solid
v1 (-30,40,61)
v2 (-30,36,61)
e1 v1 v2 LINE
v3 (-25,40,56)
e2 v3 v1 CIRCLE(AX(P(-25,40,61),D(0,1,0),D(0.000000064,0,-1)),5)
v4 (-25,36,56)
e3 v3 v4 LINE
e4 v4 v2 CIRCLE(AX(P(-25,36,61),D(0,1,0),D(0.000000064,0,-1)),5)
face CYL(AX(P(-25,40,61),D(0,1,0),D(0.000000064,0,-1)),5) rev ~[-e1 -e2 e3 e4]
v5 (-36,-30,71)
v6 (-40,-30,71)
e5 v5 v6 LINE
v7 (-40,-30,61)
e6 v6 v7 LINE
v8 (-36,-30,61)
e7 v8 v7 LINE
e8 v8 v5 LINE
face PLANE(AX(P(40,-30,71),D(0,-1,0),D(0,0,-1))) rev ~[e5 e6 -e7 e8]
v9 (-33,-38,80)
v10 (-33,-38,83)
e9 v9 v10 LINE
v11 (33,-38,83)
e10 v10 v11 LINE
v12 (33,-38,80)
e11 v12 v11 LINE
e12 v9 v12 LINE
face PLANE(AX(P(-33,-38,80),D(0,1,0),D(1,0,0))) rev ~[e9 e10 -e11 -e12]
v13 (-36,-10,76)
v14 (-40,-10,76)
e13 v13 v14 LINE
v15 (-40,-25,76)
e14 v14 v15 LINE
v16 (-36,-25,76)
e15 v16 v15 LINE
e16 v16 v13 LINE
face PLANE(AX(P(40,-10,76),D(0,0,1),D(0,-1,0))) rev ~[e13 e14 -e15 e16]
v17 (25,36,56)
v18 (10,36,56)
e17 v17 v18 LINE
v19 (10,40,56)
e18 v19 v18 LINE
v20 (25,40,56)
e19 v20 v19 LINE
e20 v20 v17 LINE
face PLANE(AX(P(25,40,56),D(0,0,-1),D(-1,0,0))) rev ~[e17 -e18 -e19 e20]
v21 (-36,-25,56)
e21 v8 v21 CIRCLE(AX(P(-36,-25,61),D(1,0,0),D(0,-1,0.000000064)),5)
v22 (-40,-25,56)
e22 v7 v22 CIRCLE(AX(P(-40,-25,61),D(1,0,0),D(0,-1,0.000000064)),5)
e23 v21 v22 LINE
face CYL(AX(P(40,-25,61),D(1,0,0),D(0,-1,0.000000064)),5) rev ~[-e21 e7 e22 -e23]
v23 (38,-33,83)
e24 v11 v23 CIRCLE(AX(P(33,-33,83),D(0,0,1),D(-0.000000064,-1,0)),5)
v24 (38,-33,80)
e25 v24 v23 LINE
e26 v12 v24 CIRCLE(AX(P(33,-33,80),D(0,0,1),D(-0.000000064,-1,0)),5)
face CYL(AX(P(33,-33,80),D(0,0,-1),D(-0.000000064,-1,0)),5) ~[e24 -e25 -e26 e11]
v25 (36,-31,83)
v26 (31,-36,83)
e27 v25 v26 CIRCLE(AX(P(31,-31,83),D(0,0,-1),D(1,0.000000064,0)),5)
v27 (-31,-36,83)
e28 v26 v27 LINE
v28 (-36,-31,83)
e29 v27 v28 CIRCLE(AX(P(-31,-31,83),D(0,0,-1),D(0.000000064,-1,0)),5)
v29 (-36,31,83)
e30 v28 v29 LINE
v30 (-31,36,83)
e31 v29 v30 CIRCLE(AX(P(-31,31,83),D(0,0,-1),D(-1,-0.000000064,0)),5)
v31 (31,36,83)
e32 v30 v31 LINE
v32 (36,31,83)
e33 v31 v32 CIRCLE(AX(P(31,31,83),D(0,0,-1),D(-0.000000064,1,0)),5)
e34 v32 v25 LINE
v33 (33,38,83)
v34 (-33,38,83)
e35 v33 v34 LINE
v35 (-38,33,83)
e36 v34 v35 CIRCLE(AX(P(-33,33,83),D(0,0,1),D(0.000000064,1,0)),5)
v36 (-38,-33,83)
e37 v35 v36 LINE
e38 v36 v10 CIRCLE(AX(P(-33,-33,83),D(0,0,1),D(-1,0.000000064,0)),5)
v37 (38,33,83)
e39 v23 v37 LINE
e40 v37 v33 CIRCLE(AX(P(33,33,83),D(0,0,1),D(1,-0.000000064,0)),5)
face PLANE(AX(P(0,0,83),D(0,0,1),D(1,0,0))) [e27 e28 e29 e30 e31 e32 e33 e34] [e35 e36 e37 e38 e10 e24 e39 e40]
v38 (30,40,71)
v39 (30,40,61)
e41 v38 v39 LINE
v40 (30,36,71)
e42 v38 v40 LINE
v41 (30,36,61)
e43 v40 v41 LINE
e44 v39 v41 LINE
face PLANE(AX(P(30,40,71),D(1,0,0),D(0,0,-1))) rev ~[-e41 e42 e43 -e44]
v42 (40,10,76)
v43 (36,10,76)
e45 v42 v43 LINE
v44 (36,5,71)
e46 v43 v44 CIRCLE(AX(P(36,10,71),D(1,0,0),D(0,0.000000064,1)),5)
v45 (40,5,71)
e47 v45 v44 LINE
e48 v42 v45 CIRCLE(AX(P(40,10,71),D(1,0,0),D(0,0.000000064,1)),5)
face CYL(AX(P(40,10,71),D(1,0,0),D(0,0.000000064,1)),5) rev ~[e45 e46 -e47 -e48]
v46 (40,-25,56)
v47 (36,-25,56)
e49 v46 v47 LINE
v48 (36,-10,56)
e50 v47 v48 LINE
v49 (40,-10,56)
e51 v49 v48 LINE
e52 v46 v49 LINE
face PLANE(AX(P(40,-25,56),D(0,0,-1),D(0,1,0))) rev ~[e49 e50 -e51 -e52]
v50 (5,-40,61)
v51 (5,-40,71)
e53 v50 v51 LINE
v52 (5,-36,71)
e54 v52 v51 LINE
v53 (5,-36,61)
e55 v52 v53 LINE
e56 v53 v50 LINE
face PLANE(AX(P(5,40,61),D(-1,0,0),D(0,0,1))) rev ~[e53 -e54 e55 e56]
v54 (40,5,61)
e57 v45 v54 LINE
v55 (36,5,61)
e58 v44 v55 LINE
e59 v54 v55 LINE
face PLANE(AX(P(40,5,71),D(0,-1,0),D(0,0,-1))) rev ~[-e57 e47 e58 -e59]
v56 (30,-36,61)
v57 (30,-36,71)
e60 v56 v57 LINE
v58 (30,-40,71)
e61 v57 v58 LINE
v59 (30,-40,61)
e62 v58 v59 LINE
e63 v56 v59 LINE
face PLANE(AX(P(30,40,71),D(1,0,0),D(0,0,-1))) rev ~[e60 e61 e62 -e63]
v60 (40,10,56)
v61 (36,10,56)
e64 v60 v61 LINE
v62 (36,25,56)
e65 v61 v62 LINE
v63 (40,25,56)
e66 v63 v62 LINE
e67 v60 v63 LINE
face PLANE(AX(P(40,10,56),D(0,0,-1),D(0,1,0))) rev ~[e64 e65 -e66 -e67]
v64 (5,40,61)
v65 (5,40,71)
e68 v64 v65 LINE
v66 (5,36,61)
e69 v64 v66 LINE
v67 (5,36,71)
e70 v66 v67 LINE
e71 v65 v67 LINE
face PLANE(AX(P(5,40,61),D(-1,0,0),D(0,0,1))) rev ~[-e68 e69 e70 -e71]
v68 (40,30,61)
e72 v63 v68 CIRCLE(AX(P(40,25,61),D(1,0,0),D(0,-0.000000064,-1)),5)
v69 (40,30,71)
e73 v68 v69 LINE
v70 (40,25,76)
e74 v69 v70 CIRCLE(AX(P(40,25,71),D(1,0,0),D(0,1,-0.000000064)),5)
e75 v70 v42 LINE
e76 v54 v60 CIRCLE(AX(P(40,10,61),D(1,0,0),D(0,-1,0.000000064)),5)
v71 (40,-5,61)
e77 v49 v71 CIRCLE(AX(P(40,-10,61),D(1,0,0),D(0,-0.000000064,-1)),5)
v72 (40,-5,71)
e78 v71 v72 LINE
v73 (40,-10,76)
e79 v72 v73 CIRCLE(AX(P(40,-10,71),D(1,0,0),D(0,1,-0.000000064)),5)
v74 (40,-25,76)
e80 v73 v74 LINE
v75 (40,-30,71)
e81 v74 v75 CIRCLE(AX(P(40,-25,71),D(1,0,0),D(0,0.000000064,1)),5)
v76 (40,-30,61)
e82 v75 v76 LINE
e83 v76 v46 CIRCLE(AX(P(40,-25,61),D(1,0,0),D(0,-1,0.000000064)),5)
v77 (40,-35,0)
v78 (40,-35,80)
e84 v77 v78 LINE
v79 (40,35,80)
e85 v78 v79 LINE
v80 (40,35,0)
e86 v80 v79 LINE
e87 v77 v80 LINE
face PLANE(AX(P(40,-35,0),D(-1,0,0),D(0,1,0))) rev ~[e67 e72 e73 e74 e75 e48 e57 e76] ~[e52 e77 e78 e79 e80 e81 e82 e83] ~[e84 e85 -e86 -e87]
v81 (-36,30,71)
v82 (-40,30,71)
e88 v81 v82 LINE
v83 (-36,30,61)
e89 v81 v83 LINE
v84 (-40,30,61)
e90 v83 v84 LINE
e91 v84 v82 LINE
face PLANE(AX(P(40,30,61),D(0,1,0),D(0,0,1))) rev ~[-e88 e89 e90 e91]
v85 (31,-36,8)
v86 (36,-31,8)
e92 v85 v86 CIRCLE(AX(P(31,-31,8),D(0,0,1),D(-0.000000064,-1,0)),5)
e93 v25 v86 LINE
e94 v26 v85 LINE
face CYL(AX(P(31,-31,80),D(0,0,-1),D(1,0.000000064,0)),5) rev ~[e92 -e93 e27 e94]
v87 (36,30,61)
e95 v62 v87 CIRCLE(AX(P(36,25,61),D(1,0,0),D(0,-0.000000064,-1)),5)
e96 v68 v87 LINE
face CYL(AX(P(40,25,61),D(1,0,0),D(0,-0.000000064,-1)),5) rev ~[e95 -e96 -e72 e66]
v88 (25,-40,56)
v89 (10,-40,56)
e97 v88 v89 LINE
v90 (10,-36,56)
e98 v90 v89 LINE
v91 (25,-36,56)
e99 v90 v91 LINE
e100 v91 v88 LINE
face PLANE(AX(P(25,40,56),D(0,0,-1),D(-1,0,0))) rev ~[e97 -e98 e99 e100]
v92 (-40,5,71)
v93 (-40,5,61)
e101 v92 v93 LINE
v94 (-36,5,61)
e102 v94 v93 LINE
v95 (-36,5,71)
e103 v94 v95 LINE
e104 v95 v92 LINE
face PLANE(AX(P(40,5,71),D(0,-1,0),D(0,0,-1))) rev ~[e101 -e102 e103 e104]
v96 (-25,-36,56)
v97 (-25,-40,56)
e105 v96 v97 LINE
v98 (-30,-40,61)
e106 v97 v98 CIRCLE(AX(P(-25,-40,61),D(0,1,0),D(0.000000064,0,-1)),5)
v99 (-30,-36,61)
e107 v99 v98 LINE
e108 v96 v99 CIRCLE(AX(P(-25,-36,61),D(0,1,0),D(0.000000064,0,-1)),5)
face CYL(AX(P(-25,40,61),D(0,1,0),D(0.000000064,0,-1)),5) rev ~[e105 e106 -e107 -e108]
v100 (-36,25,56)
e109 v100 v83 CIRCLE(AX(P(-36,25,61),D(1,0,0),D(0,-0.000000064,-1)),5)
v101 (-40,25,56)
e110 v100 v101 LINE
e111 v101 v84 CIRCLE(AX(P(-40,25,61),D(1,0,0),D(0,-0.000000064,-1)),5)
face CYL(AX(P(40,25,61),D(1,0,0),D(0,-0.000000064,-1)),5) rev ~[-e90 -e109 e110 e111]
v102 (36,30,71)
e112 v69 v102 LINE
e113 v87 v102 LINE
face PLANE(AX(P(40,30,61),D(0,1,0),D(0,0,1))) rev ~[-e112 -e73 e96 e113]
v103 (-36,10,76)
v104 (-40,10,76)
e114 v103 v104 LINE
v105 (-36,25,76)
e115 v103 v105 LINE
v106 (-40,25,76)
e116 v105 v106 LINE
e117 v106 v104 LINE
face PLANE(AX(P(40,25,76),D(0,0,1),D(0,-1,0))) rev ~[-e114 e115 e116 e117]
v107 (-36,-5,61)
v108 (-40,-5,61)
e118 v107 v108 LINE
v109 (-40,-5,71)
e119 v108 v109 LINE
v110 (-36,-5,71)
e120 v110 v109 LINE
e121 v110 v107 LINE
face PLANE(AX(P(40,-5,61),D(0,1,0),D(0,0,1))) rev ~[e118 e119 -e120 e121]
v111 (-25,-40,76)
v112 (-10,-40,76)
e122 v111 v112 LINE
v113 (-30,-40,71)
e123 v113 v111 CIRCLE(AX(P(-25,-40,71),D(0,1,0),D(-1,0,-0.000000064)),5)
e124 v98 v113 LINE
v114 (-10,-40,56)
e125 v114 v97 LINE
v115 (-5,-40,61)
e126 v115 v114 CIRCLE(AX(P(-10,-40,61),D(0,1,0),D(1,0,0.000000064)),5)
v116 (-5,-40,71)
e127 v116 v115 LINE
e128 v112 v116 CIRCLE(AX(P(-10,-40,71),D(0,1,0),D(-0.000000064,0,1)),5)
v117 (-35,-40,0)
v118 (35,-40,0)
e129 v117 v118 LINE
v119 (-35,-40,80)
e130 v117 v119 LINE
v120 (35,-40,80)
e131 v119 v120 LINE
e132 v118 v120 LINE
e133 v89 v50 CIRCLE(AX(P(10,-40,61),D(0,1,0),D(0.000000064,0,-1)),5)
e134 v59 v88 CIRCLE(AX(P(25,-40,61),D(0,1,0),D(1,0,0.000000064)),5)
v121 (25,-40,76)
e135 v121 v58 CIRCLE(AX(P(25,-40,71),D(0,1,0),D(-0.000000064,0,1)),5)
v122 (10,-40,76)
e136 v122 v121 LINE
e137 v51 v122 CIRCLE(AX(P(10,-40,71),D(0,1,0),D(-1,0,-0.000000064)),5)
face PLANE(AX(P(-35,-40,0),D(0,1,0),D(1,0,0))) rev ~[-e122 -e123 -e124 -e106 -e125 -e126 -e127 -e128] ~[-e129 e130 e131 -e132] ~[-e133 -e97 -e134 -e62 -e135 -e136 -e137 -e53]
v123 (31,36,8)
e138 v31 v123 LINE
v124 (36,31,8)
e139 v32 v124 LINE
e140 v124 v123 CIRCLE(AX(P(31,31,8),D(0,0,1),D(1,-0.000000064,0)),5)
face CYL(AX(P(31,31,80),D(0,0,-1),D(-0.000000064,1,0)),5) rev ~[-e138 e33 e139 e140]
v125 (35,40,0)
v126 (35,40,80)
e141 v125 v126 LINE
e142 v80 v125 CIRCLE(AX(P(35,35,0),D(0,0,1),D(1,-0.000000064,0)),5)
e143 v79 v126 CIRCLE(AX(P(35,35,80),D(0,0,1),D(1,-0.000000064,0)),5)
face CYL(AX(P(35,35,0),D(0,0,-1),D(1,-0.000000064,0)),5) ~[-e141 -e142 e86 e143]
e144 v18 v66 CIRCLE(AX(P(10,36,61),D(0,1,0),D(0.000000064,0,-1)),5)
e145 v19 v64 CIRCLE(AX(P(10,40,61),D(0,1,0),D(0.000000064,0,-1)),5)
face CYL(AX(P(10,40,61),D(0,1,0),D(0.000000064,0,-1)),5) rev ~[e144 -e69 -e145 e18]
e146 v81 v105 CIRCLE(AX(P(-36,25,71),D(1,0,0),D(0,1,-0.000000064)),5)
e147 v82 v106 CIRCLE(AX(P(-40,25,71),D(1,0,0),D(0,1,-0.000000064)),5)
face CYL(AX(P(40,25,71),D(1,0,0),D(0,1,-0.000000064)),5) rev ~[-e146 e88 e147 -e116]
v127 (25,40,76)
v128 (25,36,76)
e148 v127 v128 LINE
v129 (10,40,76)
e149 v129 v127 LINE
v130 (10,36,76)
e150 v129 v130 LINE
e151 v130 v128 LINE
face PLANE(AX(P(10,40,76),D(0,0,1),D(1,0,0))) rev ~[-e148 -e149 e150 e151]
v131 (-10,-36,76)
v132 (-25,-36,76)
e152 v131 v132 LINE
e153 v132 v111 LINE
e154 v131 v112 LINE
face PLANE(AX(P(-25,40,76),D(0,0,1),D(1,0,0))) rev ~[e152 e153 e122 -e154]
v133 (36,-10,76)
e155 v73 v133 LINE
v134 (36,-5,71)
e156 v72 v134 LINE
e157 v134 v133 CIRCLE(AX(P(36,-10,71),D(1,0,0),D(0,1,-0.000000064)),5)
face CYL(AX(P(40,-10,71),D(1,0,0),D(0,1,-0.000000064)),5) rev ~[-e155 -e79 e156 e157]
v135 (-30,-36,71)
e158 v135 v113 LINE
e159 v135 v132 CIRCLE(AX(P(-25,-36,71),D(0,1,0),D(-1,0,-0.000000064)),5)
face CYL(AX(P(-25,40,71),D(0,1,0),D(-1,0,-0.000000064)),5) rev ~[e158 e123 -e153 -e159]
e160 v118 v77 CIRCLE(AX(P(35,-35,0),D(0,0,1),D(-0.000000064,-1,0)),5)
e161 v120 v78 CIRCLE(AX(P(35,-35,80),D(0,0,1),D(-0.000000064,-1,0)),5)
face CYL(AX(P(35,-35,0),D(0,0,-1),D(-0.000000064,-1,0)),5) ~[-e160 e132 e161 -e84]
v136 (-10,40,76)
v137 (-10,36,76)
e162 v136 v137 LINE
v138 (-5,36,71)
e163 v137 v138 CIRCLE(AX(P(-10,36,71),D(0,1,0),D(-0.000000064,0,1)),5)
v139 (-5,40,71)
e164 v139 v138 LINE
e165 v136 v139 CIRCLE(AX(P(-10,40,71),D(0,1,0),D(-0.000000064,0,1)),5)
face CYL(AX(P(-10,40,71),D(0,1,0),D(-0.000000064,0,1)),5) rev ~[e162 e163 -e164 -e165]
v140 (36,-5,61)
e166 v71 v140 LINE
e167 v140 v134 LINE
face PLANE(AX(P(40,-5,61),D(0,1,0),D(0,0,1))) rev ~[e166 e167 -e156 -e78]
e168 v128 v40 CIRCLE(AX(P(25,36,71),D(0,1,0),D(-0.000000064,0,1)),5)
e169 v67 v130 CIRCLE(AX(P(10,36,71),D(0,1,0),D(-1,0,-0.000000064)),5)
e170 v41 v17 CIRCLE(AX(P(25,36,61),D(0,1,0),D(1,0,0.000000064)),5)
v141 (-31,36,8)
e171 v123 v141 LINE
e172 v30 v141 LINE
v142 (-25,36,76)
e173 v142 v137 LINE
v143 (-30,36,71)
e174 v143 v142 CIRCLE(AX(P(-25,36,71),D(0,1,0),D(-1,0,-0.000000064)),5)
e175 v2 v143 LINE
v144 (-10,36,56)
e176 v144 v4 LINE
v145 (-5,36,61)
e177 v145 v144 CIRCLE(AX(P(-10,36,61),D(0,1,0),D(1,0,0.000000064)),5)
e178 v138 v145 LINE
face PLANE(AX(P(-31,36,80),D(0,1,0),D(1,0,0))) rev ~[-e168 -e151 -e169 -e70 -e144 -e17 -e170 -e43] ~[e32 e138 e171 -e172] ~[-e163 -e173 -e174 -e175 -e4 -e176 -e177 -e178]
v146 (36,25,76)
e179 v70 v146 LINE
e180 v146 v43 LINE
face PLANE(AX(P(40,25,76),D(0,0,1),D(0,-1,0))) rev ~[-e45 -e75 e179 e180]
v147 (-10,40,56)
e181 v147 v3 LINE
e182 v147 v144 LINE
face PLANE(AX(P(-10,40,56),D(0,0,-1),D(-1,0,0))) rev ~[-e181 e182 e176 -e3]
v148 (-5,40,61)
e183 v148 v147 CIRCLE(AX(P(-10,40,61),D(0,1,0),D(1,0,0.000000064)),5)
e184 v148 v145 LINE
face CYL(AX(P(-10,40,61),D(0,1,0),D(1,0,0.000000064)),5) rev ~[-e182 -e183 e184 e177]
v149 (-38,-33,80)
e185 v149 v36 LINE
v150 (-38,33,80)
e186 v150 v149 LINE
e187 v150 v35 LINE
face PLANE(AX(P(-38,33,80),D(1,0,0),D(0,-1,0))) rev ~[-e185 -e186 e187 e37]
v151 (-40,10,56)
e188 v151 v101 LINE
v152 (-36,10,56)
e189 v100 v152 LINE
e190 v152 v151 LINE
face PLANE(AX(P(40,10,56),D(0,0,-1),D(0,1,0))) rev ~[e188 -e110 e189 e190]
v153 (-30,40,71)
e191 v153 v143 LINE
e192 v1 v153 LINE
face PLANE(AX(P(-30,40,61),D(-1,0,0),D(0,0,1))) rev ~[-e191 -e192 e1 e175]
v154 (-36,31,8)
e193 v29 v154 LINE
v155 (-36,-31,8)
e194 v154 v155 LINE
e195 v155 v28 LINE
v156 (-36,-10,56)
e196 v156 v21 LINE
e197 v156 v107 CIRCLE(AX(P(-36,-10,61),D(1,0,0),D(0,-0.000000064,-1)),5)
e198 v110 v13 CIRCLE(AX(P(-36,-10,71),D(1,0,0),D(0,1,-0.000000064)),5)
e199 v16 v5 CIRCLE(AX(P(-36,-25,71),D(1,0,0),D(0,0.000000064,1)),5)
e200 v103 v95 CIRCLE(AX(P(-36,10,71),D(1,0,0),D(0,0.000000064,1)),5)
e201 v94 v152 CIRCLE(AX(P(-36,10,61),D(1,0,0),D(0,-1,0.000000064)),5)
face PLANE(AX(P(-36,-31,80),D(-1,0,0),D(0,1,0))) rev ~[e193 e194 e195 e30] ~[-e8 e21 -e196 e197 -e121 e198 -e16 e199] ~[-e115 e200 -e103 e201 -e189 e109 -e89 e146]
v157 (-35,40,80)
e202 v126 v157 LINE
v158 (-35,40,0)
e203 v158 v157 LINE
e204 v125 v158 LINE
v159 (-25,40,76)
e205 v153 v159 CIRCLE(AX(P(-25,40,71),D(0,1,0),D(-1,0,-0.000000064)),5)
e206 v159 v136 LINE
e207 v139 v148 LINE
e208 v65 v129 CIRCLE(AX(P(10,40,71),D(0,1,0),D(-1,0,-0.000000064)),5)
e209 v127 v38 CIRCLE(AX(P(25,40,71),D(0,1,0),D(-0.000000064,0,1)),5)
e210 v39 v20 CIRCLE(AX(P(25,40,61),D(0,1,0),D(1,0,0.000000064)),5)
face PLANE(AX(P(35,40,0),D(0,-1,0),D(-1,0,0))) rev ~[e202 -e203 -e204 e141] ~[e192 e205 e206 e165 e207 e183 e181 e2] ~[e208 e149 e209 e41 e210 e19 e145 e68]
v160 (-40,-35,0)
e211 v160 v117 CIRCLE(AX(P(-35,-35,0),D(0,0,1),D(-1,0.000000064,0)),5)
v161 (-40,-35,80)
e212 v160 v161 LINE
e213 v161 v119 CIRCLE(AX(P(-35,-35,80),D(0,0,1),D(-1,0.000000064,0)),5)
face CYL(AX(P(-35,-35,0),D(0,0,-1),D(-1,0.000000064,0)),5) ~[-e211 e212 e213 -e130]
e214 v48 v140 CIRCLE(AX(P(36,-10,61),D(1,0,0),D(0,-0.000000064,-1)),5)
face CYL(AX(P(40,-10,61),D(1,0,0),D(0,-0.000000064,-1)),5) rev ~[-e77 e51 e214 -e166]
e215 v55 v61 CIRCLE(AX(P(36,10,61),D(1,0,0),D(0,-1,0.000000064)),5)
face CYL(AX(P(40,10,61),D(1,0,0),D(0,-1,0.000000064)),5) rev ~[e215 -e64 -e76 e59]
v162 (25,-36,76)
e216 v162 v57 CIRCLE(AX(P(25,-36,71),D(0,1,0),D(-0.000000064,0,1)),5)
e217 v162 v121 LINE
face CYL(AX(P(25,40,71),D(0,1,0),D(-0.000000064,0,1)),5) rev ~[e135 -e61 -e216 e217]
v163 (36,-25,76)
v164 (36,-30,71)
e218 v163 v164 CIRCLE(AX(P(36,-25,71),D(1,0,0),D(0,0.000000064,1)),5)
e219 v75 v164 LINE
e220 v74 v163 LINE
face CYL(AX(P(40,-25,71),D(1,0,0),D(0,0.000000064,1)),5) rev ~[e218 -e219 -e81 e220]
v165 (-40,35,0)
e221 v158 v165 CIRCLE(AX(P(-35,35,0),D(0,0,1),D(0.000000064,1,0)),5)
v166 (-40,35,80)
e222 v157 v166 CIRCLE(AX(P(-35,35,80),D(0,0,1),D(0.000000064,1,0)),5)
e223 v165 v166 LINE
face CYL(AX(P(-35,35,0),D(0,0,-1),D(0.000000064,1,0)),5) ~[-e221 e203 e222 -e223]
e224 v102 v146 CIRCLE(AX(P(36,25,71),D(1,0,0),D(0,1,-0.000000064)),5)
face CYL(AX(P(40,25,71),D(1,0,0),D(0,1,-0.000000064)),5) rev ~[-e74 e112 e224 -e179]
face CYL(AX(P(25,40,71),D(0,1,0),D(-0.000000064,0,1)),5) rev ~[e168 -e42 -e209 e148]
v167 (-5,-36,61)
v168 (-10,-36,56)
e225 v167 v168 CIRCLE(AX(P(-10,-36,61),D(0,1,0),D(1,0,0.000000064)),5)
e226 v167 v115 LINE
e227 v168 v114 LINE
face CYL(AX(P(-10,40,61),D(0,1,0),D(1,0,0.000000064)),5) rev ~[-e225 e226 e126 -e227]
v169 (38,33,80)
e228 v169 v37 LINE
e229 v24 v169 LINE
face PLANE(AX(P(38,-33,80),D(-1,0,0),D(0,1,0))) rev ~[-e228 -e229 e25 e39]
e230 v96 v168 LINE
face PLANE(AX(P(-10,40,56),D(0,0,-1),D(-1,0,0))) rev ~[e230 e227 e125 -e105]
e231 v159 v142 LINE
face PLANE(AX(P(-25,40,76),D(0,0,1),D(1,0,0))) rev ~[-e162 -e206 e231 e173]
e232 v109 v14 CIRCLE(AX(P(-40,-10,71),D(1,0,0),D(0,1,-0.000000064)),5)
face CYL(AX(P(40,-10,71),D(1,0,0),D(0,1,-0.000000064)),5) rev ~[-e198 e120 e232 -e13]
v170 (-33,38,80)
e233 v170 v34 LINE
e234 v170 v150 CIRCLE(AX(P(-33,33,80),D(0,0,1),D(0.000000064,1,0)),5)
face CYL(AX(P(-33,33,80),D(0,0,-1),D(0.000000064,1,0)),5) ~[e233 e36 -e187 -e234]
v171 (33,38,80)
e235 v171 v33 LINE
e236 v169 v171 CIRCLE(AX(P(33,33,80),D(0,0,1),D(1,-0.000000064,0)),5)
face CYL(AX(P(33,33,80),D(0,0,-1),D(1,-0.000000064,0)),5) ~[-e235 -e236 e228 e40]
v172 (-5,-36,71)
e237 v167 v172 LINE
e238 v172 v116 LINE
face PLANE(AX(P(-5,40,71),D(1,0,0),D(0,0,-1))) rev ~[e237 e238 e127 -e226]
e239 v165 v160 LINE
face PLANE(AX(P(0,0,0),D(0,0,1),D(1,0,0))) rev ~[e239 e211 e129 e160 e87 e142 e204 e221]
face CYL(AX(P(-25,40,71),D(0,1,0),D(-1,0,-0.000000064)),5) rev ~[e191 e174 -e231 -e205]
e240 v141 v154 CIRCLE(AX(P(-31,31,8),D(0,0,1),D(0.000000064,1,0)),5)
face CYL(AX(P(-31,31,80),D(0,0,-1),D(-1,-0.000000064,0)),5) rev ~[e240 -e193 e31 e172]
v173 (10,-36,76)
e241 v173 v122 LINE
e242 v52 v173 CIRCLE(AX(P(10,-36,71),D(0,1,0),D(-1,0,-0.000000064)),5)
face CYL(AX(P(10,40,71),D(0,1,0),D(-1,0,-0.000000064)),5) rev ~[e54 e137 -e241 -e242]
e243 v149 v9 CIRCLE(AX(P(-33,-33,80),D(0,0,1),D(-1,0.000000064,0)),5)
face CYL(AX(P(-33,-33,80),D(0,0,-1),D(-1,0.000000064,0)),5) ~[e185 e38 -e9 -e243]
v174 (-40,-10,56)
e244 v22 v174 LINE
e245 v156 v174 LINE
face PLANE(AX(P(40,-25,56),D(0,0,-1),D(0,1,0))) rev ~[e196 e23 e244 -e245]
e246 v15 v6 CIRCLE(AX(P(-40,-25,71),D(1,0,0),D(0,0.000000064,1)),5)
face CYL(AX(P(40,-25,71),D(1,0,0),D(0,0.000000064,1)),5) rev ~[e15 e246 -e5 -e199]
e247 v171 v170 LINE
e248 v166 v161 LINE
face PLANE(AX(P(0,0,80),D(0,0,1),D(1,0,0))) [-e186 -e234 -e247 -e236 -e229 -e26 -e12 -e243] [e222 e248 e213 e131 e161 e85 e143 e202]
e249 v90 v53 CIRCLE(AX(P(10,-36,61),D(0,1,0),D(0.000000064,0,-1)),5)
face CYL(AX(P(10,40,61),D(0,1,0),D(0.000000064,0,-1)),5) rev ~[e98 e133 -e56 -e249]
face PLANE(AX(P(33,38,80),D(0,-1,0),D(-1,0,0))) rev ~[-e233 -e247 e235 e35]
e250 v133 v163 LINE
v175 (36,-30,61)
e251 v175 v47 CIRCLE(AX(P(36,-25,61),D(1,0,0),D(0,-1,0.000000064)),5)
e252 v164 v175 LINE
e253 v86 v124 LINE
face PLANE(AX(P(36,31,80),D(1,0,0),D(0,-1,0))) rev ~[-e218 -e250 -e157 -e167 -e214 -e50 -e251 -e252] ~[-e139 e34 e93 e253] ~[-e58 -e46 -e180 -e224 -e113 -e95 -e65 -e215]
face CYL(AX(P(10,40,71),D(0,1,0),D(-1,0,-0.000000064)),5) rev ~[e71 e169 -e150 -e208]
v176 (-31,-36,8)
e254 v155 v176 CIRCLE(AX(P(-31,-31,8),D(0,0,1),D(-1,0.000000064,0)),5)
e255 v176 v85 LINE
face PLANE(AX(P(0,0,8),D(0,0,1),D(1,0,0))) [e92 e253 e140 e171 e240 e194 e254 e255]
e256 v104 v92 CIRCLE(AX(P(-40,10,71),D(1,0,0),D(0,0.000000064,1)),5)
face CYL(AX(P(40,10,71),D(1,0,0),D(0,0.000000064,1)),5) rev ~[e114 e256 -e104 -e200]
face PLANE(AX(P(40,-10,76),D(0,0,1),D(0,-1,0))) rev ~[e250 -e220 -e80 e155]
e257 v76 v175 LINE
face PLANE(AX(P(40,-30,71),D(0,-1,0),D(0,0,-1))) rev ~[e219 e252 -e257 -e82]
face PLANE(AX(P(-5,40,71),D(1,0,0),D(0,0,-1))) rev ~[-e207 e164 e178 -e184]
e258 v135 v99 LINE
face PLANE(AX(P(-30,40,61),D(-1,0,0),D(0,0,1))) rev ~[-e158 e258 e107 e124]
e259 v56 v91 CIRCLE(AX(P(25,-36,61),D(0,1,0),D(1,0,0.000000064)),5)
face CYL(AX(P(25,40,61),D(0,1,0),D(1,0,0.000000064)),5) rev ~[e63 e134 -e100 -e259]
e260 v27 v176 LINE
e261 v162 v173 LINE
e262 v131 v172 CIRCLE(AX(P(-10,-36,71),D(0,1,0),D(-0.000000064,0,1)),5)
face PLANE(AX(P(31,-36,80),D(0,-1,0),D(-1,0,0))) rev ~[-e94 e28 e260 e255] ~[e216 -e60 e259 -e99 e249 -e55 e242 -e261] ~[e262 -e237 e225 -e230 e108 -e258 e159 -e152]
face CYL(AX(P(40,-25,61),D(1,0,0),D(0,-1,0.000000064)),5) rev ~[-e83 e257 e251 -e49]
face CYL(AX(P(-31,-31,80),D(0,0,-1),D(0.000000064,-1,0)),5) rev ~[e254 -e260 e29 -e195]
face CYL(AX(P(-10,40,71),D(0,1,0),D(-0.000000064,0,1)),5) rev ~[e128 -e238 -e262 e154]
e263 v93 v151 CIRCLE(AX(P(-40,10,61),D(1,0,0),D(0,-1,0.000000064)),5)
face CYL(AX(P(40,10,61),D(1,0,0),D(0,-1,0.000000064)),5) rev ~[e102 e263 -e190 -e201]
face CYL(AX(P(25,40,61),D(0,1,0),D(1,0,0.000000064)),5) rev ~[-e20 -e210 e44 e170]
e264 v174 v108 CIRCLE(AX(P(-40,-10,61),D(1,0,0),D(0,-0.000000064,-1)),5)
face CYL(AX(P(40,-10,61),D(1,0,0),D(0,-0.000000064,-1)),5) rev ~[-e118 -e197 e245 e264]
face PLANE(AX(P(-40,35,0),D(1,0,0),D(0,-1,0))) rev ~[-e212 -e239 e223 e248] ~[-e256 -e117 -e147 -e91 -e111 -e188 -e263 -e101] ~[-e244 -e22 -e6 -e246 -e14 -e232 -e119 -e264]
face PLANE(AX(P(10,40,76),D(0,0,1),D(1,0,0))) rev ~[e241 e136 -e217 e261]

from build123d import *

# Parameters (mm, degrees)
F1_DEPTH = 80
F2_DEPTH = 8
F4_DEPTH = 3
F7_DEPTH = 80.001
F8_DEPTH = 80.001


with BuildPart() as f1:
    # F0 (on Top) → F1 (new body)
    with BuildSketch(Plane.XY):
        with BuildLine():
            Line((35, 40), (-35, 40))
            ThreePointArc((-35, 40), (-38.535534, 38.535534), (-40, 35))
            Line((-40, 35), (-40, -35))
            ThreePointArc((-40, -35), (-38.535534, -38.535534), (-35, -40))
            Line((-35, -40), (35, -40))
            ThreePointArc((35, -40), (38.535534, -38.535534), (40, -35))
            Line((40, -35), (40, 35))
            ThreePointArc((40, 35), (38.535534, 38.535534), (35, 40))
        make_face()
        with BuildLine():
            ThreePointArc((-36, 31), (-34.535534, 34.535534), (-31, 36))
            Line((-31, 36), (31, 36))
            ThreePointArc((31, 36), (34.535534, 34.535534), (36, 31))
            Line((36, 31), (36, -31))
            ThreePointArc((36, -31), (34.535534, -34.535534), (31, -36))
            Line((31, -36), (-31, -36))
            ThreePointArc((-31, -36), (-34.535534, -34.535534), (-36, -31))
            Line((-36, -31), (-36, 31))
        make_face(mode=Mode.SUBTRACT)
    extrude(amount=F1_DEPTH)

    # F0 (on Top) → F2 (join)
    with BuildSketch(Plane.XY):
        with BuildLine():
            Line((31, 36), (-31, 36))
            ThreePointArc((-31, 36), (-34.535534, 34.535534), (-36, 31))
            Line((-36, 31), (-36, -31))
            ThreePointArc((-36, -31), (-34.535534, -34.535534), (-31, -36))
            Line((-31, -36), (31, -36))
            ThreePointArc((31, -36), (34.535534, -34.535534), (36, -31))
            Line((36, -31), (36, 31))
            ThreePointArc((36, 31), (34.535534, 34.535534), (31, 36))
        make_face()
    extrude(amount=F2_DEPTH)

    # F3 (on face) → F4 (join)
    with BuildSketch(Plane.XY.offset(80)):
        with BuildLine():
            Line((33, 38), (-33, 38))
            ThreePointArc((-33, 38), (-36.535534, 36.535534), (-38, 33))
            Line((-38, 33), (-38, -33))
            ThreePointArc((-38, -33), (-36.535534, -36.535534), (-33, -38))
            Line((-33, -38), (33, -38))
            ThreePointArc((33, -38), (36.535534, -36.535534), (38, -33))
            Line((38, -33), (38, 33))
            ThreePointArc((38, 33), (36.535534, 36.535534), (33, 38))
        make_face()
        with BuildLine():
            Line((-36, -31), (-36, 31))
            ThreePointArc((-36, 31), (-34.535534, 34.535534), (-31, 36))
            Line((-31, 36), (31, 36))
            ThreePointArc((31, 36), (34.535534, 34.535534), (36, 31))
            Line((36, 31), (36, -31))
            ThreePointArc((36, -31), (34.535534, -34.535534), (31, -36))
            Line((31, -36), (-31, -36))
            ThreePointArc((-31, -36), (-34.535534, -34.535534), (-36, -31))
        make_face(mode=Mode.SUBTRACT)
    extrude(amount=F4_DEPTH)

    # F6 (on face) → F7 (cut, through all)
    with BuildSketch(Plane(origin=(0, 40, 0), x_dir=(-1, 0, 0), z_dir=(0, 1, 0))):
        with BuildLine():
            Line((-25, 56), (-10, 56))
            ThreePointArc((-10, 56), (-6.464466, 57.464466), (-5, 61))
            Line((-5, 61), (-5, 71))
            ThreePointArc((-5, 71), (-6.464466, 74.535534), (-10, 76))
            Line((-10, 76), (-25, 76))
            ThreePointArc((-25, 76), (-28.535534, 74.535534), (-30, 71))
            Line((-30, 71), (-30, 61))
            ThreePointArc((-30, 61), (-28.535534, 57.464466), (-25, 56))
        make_face()
        with BuildLine():
            ThreePointArc((5, 61), (6.464466, 57.464466), (10, 56))
            Line((10, 56), (25, 56))
            ThreePointArc((25, 56), (28.535534, 57.464466), (30, 61))
            Line((30, 61), (30, 71))
            ThreePointArc((30, 71), (28.535534, 74.535534), (25, 76))
            Line((25, 76), (10, 76))
            ThreePointArc((10, 76), (6.464466, 74.535534), (5, 71))
            Line((5, 71), (5, 61))
        make_face()
    extrude(amount=-F7_DEPTH, mode=Mode.SUBTRACT)

    # F5 (on face) → F8 (cut, through all)
    with BuildSketch(Plane.YZ.offset(40)):
        with BuildLine():
            Line((-25, 56), (-10, 56))
            ThreePointArc((-10, 56), (-6.464466, 57.464466), (-5, 61))
            Line((-5, 61), (-5, 71))
            ThreePointArc((-5, 71), (-6.464466, 74.535534), (-10, 76))
            Line((-10, 76), (-25, 76))
            ThreePointArc((-25, 76), (-28.535534, 74.535534), (-30, 71))
            Line((-30, 71), (-30, 61))
            ThreePointArc((-30, 61), (-28.535534, 57.464466), (-25, 56))
        make_face()
        with BuildLine():
            ThreePointArc((5, 61), (6.464466, 57.464466), (10, 56))
            Line((10, 56), (25, 56))
            ThreePointArc((25, 56), (28.535534, 57.464466), (30, 61))
            Line((30, 61), (30, 71))
            ThreePointArc((30, 71), (28.535534, 74.535534), (25, 76))
            Line((25, 76), (10, 76))
            ThreePointArc((10, 76), (6.464466, 74.535534), (5, 71))
            Line((5, 71), (5, 61))
        make_face()
    extrude(amount=-F8_DEPTH, mode=Mode.SUBTRACT)


solid = f1.part
